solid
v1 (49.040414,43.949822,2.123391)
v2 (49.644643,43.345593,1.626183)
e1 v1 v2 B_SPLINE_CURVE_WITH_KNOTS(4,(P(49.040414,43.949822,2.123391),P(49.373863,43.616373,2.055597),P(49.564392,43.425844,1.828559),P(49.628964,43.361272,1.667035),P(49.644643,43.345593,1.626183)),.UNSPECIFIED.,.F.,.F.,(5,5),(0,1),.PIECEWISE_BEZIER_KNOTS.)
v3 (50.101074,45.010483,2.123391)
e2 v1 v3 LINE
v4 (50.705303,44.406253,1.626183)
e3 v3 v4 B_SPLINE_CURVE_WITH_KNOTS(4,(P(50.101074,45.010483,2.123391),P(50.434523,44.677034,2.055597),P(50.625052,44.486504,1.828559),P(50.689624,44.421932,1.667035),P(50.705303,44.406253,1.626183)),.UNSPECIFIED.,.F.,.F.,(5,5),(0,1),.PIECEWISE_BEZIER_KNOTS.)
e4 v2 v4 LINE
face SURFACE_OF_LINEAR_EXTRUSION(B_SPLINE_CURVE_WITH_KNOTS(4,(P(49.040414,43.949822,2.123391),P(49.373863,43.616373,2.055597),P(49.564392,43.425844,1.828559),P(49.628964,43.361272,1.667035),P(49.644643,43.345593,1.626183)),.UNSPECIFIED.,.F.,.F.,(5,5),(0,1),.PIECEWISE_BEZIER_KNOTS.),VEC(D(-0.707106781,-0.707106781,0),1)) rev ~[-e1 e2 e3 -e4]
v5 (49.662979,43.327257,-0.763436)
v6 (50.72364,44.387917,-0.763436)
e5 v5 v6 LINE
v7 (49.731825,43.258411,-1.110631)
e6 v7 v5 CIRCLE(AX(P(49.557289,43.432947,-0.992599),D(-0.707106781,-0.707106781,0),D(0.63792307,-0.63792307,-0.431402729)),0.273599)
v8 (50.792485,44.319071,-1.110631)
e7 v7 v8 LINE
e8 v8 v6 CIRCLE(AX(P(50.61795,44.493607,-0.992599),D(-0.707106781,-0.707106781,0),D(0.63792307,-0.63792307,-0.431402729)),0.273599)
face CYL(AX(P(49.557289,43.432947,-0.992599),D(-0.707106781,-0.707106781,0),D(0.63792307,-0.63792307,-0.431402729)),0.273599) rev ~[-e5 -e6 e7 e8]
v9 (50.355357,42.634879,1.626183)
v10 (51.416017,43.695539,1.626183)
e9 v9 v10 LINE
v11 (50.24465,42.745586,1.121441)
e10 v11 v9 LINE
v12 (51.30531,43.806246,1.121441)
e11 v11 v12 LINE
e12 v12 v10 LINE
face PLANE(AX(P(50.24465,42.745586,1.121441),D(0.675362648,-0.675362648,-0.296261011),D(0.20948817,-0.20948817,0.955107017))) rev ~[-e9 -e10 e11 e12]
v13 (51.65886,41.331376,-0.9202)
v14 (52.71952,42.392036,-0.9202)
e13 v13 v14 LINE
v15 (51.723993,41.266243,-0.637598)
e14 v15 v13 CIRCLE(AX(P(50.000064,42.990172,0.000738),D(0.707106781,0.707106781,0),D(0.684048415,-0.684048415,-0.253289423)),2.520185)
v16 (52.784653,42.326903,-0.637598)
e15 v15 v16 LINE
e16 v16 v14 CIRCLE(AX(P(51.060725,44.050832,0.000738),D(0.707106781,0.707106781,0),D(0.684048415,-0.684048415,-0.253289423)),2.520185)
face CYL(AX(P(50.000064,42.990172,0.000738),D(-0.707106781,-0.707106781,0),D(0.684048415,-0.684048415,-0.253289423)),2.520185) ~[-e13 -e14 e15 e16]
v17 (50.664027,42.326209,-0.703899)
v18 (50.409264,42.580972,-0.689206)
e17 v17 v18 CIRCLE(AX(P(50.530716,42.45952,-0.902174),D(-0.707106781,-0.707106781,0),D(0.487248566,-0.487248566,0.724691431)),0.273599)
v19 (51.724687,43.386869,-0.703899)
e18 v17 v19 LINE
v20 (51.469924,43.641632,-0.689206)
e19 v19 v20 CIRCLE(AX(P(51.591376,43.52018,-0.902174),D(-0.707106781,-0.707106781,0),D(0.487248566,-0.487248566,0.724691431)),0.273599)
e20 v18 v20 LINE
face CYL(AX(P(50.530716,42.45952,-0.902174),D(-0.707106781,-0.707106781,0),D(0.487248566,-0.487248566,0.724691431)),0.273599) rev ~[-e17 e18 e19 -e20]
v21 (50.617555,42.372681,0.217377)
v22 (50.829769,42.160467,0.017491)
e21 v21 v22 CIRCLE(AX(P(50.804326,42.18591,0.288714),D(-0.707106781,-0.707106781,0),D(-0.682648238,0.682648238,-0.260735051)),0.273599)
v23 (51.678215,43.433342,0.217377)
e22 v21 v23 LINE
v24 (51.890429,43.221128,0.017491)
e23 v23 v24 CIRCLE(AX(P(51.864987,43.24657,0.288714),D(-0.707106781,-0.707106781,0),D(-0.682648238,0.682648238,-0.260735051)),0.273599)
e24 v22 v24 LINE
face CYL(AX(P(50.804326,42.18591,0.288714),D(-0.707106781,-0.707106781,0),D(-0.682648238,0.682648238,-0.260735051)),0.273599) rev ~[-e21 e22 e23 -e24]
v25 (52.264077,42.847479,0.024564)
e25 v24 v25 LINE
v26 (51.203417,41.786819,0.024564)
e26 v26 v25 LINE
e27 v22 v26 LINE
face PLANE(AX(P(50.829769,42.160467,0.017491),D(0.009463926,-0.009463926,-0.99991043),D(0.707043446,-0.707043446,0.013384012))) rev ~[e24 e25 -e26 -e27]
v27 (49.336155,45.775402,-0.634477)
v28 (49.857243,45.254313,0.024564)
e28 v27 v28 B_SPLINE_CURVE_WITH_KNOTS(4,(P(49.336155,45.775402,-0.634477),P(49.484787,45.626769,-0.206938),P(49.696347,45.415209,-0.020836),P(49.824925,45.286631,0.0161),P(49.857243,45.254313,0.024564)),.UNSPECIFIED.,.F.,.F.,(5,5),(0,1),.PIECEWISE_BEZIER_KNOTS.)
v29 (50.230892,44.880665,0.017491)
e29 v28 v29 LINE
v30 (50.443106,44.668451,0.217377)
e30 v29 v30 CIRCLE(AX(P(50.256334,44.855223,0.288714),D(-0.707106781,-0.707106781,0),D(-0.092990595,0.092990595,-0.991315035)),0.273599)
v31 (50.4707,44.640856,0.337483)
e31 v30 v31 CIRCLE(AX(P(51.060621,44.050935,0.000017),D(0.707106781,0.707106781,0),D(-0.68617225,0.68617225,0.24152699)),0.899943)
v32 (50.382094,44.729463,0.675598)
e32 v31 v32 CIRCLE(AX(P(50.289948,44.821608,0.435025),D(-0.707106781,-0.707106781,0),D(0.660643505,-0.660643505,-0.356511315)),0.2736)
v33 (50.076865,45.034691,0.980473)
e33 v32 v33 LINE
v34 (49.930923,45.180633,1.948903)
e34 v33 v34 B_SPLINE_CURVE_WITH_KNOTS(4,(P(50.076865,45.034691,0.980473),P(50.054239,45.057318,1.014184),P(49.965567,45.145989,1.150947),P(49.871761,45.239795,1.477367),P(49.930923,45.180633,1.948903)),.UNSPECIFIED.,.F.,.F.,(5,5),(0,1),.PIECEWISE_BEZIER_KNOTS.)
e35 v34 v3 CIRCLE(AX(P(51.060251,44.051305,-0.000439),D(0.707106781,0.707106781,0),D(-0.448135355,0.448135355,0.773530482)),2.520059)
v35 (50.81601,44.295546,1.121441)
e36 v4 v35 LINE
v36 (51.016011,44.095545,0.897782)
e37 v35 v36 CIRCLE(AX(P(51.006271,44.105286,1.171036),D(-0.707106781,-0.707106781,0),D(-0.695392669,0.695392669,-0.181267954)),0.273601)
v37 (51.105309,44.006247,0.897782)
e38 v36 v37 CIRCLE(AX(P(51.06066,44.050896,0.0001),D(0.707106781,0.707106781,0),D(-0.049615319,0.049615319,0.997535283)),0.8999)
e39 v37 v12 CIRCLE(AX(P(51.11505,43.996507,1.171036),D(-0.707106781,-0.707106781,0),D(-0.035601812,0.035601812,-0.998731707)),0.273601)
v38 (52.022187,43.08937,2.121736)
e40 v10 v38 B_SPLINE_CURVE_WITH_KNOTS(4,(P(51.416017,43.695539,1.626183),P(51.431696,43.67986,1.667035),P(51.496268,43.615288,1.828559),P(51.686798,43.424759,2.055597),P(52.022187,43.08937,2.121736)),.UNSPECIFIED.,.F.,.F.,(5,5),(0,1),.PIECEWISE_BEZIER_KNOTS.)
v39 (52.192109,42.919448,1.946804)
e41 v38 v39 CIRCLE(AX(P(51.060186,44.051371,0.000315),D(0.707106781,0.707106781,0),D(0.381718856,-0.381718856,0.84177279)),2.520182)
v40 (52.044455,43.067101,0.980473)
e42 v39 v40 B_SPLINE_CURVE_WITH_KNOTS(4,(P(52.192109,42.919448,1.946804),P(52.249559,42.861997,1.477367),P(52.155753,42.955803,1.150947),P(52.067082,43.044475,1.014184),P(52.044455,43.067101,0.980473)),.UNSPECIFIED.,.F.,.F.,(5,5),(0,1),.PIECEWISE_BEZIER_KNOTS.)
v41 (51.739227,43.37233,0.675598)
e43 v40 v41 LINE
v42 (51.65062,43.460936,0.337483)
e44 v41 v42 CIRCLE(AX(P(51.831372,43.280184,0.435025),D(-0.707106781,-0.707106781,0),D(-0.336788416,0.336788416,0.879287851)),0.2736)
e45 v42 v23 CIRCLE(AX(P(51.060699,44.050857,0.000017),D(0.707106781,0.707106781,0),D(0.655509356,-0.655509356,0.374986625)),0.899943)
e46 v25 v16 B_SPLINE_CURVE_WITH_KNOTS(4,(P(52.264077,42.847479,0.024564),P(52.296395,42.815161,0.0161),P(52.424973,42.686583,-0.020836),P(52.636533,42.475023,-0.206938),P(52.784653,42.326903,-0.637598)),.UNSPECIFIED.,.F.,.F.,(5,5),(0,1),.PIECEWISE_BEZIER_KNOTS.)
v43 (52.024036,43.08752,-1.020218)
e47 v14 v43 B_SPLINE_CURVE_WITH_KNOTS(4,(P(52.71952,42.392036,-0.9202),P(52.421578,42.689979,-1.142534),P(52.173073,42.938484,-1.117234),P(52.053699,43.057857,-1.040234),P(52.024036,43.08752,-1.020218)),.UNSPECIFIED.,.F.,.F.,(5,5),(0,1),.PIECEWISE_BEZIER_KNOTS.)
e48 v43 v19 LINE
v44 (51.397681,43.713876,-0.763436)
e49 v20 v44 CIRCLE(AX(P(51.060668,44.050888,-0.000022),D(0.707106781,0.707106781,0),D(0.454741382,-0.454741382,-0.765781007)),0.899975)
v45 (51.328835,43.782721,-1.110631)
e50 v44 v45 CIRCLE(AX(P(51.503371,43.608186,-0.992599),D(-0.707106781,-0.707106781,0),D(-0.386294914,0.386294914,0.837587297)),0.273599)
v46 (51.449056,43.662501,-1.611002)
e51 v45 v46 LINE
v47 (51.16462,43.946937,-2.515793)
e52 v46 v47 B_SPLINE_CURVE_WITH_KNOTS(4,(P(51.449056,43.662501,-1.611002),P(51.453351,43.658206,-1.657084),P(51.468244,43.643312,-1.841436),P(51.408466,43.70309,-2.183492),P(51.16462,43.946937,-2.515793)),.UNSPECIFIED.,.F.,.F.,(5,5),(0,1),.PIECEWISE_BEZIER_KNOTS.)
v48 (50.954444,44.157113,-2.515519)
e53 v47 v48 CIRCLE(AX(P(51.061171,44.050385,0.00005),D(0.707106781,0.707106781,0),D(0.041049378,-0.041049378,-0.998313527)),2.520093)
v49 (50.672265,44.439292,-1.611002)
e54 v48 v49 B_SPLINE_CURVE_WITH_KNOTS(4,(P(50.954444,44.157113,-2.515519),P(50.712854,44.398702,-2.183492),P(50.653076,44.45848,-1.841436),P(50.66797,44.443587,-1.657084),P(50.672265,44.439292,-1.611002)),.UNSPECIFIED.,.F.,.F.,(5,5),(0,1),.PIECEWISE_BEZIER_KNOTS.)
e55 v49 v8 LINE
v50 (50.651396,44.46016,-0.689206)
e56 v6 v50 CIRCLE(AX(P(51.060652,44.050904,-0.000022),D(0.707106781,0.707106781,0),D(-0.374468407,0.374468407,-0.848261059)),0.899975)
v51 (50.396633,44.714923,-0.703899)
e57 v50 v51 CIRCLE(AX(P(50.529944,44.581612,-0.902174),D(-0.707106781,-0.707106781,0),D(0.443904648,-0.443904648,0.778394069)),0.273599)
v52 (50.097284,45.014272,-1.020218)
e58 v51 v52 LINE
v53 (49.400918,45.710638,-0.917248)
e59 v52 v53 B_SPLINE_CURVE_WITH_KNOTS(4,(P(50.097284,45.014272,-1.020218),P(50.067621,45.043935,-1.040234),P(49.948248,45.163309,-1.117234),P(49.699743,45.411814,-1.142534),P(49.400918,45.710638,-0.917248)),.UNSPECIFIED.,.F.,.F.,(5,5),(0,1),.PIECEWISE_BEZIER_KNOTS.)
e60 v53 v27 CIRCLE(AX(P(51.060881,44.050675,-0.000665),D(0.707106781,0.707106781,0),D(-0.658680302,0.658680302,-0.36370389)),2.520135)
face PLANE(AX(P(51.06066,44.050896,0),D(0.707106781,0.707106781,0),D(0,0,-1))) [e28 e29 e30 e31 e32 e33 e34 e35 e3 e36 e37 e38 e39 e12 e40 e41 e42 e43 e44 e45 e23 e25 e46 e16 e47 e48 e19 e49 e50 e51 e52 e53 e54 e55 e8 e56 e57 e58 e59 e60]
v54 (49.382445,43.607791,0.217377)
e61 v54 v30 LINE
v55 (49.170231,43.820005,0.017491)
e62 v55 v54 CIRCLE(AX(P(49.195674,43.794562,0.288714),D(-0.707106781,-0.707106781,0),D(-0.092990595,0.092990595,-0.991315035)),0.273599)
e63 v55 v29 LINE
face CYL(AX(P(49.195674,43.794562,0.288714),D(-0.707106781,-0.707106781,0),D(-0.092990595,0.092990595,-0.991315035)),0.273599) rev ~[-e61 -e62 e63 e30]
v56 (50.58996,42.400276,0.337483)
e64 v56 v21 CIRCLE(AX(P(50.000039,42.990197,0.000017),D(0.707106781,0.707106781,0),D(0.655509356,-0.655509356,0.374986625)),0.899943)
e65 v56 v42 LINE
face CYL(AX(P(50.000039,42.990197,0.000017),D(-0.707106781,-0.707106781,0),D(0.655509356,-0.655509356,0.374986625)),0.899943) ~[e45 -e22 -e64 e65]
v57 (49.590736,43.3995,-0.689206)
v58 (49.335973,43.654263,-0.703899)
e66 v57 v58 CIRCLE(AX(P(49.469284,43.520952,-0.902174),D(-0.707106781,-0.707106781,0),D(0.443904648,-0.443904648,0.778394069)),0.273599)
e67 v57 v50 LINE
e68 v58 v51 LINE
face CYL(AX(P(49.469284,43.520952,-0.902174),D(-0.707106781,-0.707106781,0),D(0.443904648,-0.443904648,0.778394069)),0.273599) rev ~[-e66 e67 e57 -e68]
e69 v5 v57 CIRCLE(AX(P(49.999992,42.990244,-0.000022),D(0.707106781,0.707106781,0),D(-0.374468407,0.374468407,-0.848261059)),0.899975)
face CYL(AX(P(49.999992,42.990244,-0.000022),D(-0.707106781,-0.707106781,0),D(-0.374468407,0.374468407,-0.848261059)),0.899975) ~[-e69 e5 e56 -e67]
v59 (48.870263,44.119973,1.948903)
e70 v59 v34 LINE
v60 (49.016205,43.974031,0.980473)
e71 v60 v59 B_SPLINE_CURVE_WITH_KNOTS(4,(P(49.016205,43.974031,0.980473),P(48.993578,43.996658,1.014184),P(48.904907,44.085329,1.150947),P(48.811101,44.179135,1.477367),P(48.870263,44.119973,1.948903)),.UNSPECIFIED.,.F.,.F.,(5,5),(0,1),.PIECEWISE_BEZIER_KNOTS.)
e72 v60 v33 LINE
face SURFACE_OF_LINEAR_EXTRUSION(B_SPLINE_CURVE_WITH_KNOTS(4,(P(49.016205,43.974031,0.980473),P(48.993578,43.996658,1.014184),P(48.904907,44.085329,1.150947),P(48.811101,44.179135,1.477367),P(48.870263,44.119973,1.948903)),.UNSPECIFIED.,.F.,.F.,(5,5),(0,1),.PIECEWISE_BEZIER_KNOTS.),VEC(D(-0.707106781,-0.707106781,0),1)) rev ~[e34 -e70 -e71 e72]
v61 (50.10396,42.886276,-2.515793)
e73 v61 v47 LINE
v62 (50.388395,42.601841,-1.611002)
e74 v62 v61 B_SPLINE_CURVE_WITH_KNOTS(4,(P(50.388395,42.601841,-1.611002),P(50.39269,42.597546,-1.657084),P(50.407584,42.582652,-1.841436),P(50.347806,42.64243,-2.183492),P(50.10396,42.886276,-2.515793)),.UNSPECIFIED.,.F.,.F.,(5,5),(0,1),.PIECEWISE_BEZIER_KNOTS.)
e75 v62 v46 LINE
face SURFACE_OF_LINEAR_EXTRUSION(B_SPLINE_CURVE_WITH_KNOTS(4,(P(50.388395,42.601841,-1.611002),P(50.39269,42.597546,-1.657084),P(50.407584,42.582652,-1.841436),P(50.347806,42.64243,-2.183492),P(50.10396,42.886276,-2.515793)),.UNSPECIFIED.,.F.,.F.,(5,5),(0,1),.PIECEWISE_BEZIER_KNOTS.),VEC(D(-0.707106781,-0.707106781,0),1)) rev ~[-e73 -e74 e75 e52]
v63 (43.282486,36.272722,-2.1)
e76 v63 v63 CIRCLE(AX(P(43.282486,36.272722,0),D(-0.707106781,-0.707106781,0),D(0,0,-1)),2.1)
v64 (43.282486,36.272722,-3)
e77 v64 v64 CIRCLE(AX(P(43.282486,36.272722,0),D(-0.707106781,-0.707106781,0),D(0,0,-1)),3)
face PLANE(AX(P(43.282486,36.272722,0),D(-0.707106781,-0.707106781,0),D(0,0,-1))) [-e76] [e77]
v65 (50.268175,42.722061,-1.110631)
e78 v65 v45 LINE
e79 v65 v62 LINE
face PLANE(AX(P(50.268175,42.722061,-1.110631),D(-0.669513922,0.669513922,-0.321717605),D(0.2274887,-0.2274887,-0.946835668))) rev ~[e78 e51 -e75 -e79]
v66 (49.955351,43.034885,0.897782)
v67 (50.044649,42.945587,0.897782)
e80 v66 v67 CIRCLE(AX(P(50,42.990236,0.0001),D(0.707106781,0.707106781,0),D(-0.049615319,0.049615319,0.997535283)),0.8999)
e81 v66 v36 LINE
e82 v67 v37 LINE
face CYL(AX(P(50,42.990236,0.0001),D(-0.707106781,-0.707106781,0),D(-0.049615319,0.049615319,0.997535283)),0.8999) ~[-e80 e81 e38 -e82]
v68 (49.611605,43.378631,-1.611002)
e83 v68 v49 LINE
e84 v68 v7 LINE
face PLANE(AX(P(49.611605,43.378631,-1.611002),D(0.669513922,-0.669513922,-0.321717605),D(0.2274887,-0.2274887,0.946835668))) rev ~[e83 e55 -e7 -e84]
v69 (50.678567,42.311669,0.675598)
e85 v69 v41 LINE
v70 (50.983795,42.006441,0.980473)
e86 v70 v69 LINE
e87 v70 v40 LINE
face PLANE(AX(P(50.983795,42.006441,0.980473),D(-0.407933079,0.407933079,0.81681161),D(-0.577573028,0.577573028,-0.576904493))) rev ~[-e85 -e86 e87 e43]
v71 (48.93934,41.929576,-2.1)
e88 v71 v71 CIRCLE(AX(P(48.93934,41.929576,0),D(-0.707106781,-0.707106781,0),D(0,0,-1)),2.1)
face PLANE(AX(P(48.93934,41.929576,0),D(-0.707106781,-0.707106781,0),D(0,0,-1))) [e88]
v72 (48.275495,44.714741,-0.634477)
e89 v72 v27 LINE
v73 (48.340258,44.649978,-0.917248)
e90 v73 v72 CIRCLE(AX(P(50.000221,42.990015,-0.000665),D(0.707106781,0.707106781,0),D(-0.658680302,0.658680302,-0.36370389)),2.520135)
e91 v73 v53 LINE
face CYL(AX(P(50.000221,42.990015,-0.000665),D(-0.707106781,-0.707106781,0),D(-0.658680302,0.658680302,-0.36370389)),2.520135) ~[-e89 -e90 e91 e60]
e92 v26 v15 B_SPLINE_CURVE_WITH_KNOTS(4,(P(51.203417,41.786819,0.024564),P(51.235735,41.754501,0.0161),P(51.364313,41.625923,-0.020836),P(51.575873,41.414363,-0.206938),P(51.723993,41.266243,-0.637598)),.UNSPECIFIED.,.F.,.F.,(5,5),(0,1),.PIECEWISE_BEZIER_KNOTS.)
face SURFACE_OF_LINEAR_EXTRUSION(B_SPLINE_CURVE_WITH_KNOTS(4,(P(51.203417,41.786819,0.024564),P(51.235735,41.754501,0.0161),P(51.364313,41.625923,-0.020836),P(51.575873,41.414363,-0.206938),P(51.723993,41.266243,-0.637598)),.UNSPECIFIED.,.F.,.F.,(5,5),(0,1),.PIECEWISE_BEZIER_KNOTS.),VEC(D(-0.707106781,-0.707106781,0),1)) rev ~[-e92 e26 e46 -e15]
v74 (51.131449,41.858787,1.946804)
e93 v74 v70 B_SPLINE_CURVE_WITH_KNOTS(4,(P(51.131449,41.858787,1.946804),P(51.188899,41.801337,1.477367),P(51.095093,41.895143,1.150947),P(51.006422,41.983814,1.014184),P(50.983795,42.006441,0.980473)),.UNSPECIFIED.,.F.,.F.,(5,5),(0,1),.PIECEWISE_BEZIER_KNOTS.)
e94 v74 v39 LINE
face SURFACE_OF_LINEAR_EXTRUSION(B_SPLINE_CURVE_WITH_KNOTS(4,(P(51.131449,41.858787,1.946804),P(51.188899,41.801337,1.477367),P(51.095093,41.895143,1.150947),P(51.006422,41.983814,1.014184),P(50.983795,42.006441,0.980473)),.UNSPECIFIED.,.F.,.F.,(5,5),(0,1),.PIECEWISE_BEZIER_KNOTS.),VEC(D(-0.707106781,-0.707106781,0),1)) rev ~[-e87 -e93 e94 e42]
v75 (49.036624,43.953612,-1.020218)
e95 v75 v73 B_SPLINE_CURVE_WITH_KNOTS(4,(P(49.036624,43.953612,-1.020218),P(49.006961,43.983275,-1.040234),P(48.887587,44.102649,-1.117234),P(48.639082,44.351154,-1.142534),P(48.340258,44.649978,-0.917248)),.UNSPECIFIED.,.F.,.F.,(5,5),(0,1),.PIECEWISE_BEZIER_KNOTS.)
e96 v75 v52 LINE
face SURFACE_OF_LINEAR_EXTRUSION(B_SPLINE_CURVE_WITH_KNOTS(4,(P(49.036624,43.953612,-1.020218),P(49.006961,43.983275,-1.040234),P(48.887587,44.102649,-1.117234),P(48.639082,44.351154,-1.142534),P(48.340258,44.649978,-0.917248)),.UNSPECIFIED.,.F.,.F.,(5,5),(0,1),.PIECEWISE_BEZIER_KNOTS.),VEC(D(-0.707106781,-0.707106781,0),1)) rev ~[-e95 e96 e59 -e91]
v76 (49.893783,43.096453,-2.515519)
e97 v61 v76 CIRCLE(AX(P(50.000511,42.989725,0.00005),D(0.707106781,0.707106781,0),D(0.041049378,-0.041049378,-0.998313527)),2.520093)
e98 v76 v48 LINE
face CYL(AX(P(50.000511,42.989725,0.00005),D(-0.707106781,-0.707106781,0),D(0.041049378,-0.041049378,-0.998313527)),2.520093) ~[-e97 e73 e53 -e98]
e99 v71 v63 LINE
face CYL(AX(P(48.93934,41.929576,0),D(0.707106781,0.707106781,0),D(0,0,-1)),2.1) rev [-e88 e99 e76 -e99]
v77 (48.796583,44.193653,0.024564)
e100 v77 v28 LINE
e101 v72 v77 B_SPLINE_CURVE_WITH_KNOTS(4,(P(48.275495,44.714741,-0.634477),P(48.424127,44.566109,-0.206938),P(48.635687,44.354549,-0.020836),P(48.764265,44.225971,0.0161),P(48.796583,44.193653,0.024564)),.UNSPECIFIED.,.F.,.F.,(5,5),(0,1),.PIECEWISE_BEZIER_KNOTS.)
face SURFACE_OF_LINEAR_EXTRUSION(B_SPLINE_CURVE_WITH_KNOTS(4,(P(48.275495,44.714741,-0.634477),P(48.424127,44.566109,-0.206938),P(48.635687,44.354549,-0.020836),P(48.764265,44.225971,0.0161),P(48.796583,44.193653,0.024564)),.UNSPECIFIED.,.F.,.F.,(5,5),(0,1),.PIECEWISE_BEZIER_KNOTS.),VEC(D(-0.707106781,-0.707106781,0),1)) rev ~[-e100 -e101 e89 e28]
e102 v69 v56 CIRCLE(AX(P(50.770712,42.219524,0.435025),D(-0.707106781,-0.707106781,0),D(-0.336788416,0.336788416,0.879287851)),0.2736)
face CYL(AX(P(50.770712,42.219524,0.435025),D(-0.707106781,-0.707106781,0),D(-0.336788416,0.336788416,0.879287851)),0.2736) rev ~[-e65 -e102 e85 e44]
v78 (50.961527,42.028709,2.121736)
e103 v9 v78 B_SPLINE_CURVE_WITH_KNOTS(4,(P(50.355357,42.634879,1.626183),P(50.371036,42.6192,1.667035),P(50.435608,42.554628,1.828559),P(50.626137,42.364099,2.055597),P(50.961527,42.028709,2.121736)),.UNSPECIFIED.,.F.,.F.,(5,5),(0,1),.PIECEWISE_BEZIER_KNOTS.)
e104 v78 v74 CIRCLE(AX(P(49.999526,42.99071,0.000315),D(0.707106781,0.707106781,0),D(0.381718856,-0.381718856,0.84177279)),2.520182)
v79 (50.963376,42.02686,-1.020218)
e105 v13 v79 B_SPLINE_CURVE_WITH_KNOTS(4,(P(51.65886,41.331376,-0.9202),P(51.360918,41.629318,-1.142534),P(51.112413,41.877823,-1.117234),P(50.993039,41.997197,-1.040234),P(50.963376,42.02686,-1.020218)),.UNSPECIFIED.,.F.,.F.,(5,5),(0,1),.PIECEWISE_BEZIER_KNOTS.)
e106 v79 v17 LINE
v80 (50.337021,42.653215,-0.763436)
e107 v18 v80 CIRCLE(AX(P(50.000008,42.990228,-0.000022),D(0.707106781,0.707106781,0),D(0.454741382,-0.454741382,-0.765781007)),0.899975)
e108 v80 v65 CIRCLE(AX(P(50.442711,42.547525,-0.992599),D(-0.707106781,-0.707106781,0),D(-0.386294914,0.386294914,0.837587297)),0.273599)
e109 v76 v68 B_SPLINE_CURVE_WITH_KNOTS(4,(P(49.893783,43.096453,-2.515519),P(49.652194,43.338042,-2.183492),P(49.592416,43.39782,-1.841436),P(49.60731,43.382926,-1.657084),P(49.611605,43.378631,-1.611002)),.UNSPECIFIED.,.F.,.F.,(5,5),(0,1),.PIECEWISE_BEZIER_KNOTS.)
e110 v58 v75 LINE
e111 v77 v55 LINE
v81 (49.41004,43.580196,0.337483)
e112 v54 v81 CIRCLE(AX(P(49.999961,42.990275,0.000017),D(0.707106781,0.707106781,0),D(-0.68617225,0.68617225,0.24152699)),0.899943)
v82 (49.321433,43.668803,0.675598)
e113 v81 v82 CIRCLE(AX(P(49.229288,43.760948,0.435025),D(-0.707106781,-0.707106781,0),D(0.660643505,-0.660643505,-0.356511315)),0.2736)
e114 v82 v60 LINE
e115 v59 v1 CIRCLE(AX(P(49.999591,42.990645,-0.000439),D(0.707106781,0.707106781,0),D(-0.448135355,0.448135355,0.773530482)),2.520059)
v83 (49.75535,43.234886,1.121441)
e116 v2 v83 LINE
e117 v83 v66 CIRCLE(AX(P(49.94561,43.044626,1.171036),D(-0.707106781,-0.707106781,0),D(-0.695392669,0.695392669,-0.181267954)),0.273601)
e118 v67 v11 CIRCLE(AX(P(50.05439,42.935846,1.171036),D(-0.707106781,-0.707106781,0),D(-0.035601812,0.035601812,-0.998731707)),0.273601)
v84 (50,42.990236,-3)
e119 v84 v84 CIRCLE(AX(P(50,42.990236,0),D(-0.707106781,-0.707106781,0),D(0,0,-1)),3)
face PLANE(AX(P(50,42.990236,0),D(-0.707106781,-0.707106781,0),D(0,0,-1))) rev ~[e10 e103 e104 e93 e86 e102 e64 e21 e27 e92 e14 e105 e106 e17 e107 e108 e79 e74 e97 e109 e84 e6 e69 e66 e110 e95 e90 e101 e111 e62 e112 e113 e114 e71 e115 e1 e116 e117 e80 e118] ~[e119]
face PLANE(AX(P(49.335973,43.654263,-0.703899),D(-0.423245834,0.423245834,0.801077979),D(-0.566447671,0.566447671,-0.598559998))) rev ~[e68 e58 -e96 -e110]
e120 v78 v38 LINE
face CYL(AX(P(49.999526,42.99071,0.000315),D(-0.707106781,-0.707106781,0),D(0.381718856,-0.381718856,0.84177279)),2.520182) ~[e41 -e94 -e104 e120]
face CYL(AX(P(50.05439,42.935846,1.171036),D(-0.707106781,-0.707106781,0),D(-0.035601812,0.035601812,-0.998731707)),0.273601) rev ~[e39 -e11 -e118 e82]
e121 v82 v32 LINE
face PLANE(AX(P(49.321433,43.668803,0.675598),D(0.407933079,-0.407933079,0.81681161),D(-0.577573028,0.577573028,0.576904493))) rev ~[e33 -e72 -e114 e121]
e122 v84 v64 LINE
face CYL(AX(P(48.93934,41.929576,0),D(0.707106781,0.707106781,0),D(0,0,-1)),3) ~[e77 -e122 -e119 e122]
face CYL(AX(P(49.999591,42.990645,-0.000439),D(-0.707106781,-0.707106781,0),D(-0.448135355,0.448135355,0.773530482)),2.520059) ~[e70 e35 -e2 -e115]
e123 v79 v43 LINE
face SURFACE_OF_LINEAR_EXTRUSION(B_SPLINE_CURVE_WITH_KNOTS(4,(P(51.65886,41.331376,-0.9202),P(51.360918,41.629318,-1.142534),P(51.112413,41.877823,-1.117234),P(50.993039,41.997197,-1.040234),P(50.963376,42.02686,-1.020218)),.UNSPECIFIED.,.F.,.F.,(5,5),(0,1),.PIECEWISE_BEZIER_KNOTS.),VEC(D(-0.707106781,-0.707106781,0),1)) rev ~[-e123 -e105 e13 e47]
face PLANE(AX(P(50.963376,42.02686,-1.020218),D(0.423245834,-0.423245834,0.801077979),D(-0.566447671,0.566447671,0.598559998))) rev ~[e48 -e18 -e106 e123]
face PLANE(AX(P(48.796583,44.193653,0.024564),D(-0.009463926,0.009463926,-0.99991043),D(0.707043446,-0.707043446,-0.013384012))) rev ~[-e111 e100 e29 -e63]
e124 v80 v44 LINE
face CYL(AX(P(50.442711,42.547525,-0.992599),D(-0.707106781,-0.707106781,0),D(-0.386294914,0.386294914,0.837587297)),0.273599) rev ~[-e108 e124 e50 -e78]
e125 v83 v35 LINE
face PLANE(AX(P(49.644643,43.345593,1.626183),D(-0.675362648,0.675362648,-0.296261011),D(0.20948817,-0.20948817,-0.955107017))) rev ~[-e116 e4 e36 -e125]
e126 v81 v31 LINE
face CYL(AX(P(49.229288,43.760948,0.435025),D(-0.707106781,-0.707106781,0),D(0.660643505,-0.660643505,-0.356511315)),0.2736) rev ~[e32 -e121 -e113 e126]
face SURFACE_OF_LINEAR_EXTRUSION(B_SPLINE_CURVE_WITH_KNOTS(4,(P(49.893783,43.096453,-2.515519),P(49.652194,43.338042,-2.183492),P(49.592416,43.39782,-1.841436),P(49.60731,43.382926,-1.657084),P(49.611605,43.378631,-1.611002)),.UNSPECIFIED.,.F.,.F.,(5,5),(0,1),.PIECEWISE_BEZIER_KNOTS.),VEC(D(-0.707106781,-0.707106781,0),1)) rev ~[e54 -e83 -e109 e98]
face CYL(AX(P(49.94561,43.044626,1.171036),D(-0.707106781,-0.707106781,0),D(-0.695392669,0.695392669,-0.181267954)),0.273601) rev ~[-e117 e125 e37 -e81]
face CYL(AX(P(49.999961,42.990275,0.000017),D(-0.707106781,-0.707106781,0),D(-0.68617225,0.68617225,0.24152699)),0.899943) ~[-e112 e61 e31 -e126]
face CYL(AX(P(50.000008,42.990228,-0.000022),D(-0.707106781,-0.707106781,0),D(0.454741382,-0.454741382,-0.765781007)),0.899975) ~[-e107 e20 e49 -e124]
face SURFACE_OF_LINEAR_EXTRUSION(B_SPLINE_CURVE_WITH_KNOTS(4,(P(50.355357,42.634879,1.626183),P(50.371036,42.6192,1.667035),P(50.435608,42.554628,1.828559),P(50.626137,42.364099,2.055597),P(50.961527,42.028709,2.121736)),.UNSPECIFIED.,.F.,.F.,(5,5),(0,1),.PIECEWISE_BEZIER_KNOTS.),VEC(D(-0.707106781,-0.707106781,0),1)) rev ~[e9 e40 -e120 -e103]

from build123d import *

# Parameters (mm, degrees)
PAD032_DEPTH            = 1.5
SKETCH052_R             = 3
PAD033_DEPTH            = 1.5
SKETCH053_R             = 3
SKETCH053_R_2           = 2.1
PAD034_DEPTH            = 8
BODY020_PITCH_ANGLE     = 90
BODY020_PLACEMENT_ANGLE = 45


with BuildPart() as part:
    # InvoluteGear005 → Pad032 (new body)
    with BuildSketch(Plane.XY):
        with BuildLine():
            Line((1.110631, -0.379257), (1.611002, -0.549274))
            add(Edge.make_bspline(
                [(1.611002, -0.549274), (1.657084, -0.555348), (1.841436, -0.576411), (2.183492, -0.491872), (2.515793, -0.147021)],
                knots=[0, 0, 0, 0, 0, 1, 1, 1, 1, 1], degree=4))
            ThreePointArc((2.515793, -0.147021), (2.520042, 0.0016), (2.515519, 0.150213))
            add(Edge.make_bspline(
                [(2.515519, 0.150213), (2.183492, 0.491872), (1.841436, 0.576411), (1.657084, 0.555348), (1.611002, 0.549274)],
                knots=[0, 0, 0, 0, 0, 1, 1, 1, 1, 1], degree=4))
            Line((1.611002, 0.549274), (1.110631, 0.379257))
            ThreePointArc((1.110631, 0.379257), (0.918725, 0.36265), (0.763436, 0.476619))
            ThreePointArc((0.763436, 0.476619), (0.728115, 0.529007), (0.689206, 0.578787))
            ThreePointArc((0.689206, 0.578787), (0.628802, 0.761694), (0.703899, 0.939076))
            Line((0.703899, 0.939076), (1.020218, 1.362419))
            add(Edge.make_bspline(
                [(1.020218, 1.362419), (1.040234, 1.404369), (1.117234, 1.573189), (1.142534, 1.924628), (0.917248, 2.34723)],
                knots=[0, 0, 0, 0, 0, 1, 1, 1, 1, 1], degree=4))
            ThreePointArc((0.917248, 2.34723), (0.777214, 2.397197), (0.634477, 2.438819))
            add(Edge.make_bspline(
                [(0.634477, 2.438819), (0.206938, 2.228621), (0.020836, 1.92943), (-0.0161, 1.747593), (-0.024564, 1.701889)],
                knots=[0, 0, 0, 0, 0, 1, 1, 1, 1, 1], degree=4))
            Line((-0.024564, 1.701889), (-0.017491, 1.17347))
            ThreePointArc((-0.017491, 1.17347), (-0.060999, 0.985824), (-0.217377, 0.873354))
            ThreePointArc((-0.217377, 0.873354), (-0.278115, 0.855951), (-0.337483, 0.834329))
            ThreePointArc((-0.337483, 0.834329), (-0.530104, 0.833403), (-0.675598, 0.959638))
            Line((-0.675598, 0.959638), (-0.980473, 1.391296))
            add(Edge.make_bspline(
                [(-0.980473, 1.391296), (-1.014184, 1.423295), (-1.150947, 1.548695), (-1.477367, 1.681357), (-1.948903, 1.597689)],
                knots=[0, 0, 0, 0, 0, 1, 1, 1, 1, 1], degree=4))
            ThreePointArc((-1.948903, 1.597689), (-2.039698, 1.479949), (-2.123391, 1.35706))
            add(Edge.make_bspline(
                [(-2.123391, 1.35706), (-2.055597, 0.885492), (-1.828559, 0.616043), (-1.667035, 0.524724), (-1.626183, 0.502551)],
                knots=[0, 0, 0, 0, 0, 1, 1, 1, 1, 1], degree=4))
            Line((-1.626183, 0.502551), (-1.121441, 0.345987))
            ThreePointArc((-1.121441, 0.345987), (-0.956425, 0.246623), (-0.897782, 0.063143))
            ThreePointArc((-0.897782, 0.063143), (-0.9, 0), (-0.897782, -0.063143))
            ThreePointArc((-0.897782, -0.063143), (-0.956425, -0.246623), (-1.121441, -0.345987))
            Line((-1.121441, -0.345987), (-1.626183, -0.502551))
            add(Edge.make_bspline(
                [(-1.626183, -0.502551), (-1.667035, -0.524724), (-1.828559, -0.616043), (-2.055597, -0.885492), (-2.121736, -1.359804)],
                knots=[0, 0, 0, 0, 0, 1, 1, 1, 1, 1], degree=4))
            ThreePointArc((-2.121736, -1.359804), (-2.037816, -1.482538), (-1.946804, -1.60011))
            add(Edge.make_bspline(
                [(-1.946804, -1.60011), (-1.477367, -1.681357), (-1.150947, -1.548695), (-1.014184, -1.423295), (-0.980473, -1.391296)],
                knots=[0, 0, 0, 0, 0, 1, 1, 1, 1, 1], degree=4))
            Line((-0.980473, -1.391296), (-0.675598, -0.959638))
            ThreePointArc((-0.675598, -0.959638), (-0.530104, -0.833403), (-0.337483, -0.834329))
            ThreePointArc((-0.337483, -0.834329), (-0.278115, -0.855951), (-0.217377, -0.873354))
            ThreePointArc((-0.217377, -0.873354), (-0.060999, -0.985824), (-0.017491, -1.17347))
            Line((-0.017491, -1.17347), (-0.024564, -1.701889))
            add(Edge.make_bspline(
                [(-0.024564, -1.701889), (-0.0161, -1.747593), (0.020836, -1.92943), (0.206938, -2.228621), (0.637598, -2.438094)],
                knots=[0, 0, 0, 0, 0, 1, 1, 1, 1, 1], degree=4))
            ThreePointArc((0.637598, -2.438094), (0.780258, -2.396208), (0.9202, -2.345982))
            add(Edge.make_bspline(
                [(0.9202, -2.345982), (1.142534, -1.924628), (1.117234, -1.573189), (1.040234, -1.404369), (1.020218, -1.362419)],
                knots=[0, 0, 0, 0, 0, 1, 1, 1, 1, 1], degree=4))
            Line((1.020218, -1.362419), (0.703899, -0.939076))
            ThreePointArc((0.703899, -0.939076), (0.628802, -0.761694), (0.689206, -0.578787))
            ThreePointArc((0.689206, -0.578787), (0.728115, -0.529007), (0.763436, -0.476619))
            ThreePointArc((0.763436, -0.476619), (0.918725, -0.36265), (1.110631, -0.379257))
        make_face()
    extrude(amount=PAD032_DEPTH)

    # Sketch052 (on Face41 of Pad032) → Pad033 (join)
    with BuildSketch(Plane(origin=(0, 0, 0), x_dir=(1, 0, 0), z_dir=(0, 0, -1))):
        Circle(SKETCH052_R)
    extrude(amount=PAD033_DEPTH)

    # Sketch053 (on Face3 of Pad033) → Pad034 (join)
    with BuildSketch(Plane(origin=(0, 0, -1.5), x_dir=(1, 0, 0), z_dir=(0, 0, -1))):
        Circle(SKETCH053_R)
        Circle(SKETCH053_R_2, mode=Mode.SUBTRACT)
    extrude(amount=PAD034_DEPTH)


with BuildPart() as part_1:
    # Body020 pitch: moved
    add(part.part.rotate(Axis((0, 0, 0), (0, 1, 0)), BODY020_PITCH_ANGLE))


with BuildPart() as part_2:
    # Body020 placement: moved
    add(part_1.part.moved(Location((50, 42.990236, 0))).rotate(Axis((50, 42.990236, 0), (0, 0, 1)), BODY020_PLACEMENT_ANGLE))


solid = part_2.part
